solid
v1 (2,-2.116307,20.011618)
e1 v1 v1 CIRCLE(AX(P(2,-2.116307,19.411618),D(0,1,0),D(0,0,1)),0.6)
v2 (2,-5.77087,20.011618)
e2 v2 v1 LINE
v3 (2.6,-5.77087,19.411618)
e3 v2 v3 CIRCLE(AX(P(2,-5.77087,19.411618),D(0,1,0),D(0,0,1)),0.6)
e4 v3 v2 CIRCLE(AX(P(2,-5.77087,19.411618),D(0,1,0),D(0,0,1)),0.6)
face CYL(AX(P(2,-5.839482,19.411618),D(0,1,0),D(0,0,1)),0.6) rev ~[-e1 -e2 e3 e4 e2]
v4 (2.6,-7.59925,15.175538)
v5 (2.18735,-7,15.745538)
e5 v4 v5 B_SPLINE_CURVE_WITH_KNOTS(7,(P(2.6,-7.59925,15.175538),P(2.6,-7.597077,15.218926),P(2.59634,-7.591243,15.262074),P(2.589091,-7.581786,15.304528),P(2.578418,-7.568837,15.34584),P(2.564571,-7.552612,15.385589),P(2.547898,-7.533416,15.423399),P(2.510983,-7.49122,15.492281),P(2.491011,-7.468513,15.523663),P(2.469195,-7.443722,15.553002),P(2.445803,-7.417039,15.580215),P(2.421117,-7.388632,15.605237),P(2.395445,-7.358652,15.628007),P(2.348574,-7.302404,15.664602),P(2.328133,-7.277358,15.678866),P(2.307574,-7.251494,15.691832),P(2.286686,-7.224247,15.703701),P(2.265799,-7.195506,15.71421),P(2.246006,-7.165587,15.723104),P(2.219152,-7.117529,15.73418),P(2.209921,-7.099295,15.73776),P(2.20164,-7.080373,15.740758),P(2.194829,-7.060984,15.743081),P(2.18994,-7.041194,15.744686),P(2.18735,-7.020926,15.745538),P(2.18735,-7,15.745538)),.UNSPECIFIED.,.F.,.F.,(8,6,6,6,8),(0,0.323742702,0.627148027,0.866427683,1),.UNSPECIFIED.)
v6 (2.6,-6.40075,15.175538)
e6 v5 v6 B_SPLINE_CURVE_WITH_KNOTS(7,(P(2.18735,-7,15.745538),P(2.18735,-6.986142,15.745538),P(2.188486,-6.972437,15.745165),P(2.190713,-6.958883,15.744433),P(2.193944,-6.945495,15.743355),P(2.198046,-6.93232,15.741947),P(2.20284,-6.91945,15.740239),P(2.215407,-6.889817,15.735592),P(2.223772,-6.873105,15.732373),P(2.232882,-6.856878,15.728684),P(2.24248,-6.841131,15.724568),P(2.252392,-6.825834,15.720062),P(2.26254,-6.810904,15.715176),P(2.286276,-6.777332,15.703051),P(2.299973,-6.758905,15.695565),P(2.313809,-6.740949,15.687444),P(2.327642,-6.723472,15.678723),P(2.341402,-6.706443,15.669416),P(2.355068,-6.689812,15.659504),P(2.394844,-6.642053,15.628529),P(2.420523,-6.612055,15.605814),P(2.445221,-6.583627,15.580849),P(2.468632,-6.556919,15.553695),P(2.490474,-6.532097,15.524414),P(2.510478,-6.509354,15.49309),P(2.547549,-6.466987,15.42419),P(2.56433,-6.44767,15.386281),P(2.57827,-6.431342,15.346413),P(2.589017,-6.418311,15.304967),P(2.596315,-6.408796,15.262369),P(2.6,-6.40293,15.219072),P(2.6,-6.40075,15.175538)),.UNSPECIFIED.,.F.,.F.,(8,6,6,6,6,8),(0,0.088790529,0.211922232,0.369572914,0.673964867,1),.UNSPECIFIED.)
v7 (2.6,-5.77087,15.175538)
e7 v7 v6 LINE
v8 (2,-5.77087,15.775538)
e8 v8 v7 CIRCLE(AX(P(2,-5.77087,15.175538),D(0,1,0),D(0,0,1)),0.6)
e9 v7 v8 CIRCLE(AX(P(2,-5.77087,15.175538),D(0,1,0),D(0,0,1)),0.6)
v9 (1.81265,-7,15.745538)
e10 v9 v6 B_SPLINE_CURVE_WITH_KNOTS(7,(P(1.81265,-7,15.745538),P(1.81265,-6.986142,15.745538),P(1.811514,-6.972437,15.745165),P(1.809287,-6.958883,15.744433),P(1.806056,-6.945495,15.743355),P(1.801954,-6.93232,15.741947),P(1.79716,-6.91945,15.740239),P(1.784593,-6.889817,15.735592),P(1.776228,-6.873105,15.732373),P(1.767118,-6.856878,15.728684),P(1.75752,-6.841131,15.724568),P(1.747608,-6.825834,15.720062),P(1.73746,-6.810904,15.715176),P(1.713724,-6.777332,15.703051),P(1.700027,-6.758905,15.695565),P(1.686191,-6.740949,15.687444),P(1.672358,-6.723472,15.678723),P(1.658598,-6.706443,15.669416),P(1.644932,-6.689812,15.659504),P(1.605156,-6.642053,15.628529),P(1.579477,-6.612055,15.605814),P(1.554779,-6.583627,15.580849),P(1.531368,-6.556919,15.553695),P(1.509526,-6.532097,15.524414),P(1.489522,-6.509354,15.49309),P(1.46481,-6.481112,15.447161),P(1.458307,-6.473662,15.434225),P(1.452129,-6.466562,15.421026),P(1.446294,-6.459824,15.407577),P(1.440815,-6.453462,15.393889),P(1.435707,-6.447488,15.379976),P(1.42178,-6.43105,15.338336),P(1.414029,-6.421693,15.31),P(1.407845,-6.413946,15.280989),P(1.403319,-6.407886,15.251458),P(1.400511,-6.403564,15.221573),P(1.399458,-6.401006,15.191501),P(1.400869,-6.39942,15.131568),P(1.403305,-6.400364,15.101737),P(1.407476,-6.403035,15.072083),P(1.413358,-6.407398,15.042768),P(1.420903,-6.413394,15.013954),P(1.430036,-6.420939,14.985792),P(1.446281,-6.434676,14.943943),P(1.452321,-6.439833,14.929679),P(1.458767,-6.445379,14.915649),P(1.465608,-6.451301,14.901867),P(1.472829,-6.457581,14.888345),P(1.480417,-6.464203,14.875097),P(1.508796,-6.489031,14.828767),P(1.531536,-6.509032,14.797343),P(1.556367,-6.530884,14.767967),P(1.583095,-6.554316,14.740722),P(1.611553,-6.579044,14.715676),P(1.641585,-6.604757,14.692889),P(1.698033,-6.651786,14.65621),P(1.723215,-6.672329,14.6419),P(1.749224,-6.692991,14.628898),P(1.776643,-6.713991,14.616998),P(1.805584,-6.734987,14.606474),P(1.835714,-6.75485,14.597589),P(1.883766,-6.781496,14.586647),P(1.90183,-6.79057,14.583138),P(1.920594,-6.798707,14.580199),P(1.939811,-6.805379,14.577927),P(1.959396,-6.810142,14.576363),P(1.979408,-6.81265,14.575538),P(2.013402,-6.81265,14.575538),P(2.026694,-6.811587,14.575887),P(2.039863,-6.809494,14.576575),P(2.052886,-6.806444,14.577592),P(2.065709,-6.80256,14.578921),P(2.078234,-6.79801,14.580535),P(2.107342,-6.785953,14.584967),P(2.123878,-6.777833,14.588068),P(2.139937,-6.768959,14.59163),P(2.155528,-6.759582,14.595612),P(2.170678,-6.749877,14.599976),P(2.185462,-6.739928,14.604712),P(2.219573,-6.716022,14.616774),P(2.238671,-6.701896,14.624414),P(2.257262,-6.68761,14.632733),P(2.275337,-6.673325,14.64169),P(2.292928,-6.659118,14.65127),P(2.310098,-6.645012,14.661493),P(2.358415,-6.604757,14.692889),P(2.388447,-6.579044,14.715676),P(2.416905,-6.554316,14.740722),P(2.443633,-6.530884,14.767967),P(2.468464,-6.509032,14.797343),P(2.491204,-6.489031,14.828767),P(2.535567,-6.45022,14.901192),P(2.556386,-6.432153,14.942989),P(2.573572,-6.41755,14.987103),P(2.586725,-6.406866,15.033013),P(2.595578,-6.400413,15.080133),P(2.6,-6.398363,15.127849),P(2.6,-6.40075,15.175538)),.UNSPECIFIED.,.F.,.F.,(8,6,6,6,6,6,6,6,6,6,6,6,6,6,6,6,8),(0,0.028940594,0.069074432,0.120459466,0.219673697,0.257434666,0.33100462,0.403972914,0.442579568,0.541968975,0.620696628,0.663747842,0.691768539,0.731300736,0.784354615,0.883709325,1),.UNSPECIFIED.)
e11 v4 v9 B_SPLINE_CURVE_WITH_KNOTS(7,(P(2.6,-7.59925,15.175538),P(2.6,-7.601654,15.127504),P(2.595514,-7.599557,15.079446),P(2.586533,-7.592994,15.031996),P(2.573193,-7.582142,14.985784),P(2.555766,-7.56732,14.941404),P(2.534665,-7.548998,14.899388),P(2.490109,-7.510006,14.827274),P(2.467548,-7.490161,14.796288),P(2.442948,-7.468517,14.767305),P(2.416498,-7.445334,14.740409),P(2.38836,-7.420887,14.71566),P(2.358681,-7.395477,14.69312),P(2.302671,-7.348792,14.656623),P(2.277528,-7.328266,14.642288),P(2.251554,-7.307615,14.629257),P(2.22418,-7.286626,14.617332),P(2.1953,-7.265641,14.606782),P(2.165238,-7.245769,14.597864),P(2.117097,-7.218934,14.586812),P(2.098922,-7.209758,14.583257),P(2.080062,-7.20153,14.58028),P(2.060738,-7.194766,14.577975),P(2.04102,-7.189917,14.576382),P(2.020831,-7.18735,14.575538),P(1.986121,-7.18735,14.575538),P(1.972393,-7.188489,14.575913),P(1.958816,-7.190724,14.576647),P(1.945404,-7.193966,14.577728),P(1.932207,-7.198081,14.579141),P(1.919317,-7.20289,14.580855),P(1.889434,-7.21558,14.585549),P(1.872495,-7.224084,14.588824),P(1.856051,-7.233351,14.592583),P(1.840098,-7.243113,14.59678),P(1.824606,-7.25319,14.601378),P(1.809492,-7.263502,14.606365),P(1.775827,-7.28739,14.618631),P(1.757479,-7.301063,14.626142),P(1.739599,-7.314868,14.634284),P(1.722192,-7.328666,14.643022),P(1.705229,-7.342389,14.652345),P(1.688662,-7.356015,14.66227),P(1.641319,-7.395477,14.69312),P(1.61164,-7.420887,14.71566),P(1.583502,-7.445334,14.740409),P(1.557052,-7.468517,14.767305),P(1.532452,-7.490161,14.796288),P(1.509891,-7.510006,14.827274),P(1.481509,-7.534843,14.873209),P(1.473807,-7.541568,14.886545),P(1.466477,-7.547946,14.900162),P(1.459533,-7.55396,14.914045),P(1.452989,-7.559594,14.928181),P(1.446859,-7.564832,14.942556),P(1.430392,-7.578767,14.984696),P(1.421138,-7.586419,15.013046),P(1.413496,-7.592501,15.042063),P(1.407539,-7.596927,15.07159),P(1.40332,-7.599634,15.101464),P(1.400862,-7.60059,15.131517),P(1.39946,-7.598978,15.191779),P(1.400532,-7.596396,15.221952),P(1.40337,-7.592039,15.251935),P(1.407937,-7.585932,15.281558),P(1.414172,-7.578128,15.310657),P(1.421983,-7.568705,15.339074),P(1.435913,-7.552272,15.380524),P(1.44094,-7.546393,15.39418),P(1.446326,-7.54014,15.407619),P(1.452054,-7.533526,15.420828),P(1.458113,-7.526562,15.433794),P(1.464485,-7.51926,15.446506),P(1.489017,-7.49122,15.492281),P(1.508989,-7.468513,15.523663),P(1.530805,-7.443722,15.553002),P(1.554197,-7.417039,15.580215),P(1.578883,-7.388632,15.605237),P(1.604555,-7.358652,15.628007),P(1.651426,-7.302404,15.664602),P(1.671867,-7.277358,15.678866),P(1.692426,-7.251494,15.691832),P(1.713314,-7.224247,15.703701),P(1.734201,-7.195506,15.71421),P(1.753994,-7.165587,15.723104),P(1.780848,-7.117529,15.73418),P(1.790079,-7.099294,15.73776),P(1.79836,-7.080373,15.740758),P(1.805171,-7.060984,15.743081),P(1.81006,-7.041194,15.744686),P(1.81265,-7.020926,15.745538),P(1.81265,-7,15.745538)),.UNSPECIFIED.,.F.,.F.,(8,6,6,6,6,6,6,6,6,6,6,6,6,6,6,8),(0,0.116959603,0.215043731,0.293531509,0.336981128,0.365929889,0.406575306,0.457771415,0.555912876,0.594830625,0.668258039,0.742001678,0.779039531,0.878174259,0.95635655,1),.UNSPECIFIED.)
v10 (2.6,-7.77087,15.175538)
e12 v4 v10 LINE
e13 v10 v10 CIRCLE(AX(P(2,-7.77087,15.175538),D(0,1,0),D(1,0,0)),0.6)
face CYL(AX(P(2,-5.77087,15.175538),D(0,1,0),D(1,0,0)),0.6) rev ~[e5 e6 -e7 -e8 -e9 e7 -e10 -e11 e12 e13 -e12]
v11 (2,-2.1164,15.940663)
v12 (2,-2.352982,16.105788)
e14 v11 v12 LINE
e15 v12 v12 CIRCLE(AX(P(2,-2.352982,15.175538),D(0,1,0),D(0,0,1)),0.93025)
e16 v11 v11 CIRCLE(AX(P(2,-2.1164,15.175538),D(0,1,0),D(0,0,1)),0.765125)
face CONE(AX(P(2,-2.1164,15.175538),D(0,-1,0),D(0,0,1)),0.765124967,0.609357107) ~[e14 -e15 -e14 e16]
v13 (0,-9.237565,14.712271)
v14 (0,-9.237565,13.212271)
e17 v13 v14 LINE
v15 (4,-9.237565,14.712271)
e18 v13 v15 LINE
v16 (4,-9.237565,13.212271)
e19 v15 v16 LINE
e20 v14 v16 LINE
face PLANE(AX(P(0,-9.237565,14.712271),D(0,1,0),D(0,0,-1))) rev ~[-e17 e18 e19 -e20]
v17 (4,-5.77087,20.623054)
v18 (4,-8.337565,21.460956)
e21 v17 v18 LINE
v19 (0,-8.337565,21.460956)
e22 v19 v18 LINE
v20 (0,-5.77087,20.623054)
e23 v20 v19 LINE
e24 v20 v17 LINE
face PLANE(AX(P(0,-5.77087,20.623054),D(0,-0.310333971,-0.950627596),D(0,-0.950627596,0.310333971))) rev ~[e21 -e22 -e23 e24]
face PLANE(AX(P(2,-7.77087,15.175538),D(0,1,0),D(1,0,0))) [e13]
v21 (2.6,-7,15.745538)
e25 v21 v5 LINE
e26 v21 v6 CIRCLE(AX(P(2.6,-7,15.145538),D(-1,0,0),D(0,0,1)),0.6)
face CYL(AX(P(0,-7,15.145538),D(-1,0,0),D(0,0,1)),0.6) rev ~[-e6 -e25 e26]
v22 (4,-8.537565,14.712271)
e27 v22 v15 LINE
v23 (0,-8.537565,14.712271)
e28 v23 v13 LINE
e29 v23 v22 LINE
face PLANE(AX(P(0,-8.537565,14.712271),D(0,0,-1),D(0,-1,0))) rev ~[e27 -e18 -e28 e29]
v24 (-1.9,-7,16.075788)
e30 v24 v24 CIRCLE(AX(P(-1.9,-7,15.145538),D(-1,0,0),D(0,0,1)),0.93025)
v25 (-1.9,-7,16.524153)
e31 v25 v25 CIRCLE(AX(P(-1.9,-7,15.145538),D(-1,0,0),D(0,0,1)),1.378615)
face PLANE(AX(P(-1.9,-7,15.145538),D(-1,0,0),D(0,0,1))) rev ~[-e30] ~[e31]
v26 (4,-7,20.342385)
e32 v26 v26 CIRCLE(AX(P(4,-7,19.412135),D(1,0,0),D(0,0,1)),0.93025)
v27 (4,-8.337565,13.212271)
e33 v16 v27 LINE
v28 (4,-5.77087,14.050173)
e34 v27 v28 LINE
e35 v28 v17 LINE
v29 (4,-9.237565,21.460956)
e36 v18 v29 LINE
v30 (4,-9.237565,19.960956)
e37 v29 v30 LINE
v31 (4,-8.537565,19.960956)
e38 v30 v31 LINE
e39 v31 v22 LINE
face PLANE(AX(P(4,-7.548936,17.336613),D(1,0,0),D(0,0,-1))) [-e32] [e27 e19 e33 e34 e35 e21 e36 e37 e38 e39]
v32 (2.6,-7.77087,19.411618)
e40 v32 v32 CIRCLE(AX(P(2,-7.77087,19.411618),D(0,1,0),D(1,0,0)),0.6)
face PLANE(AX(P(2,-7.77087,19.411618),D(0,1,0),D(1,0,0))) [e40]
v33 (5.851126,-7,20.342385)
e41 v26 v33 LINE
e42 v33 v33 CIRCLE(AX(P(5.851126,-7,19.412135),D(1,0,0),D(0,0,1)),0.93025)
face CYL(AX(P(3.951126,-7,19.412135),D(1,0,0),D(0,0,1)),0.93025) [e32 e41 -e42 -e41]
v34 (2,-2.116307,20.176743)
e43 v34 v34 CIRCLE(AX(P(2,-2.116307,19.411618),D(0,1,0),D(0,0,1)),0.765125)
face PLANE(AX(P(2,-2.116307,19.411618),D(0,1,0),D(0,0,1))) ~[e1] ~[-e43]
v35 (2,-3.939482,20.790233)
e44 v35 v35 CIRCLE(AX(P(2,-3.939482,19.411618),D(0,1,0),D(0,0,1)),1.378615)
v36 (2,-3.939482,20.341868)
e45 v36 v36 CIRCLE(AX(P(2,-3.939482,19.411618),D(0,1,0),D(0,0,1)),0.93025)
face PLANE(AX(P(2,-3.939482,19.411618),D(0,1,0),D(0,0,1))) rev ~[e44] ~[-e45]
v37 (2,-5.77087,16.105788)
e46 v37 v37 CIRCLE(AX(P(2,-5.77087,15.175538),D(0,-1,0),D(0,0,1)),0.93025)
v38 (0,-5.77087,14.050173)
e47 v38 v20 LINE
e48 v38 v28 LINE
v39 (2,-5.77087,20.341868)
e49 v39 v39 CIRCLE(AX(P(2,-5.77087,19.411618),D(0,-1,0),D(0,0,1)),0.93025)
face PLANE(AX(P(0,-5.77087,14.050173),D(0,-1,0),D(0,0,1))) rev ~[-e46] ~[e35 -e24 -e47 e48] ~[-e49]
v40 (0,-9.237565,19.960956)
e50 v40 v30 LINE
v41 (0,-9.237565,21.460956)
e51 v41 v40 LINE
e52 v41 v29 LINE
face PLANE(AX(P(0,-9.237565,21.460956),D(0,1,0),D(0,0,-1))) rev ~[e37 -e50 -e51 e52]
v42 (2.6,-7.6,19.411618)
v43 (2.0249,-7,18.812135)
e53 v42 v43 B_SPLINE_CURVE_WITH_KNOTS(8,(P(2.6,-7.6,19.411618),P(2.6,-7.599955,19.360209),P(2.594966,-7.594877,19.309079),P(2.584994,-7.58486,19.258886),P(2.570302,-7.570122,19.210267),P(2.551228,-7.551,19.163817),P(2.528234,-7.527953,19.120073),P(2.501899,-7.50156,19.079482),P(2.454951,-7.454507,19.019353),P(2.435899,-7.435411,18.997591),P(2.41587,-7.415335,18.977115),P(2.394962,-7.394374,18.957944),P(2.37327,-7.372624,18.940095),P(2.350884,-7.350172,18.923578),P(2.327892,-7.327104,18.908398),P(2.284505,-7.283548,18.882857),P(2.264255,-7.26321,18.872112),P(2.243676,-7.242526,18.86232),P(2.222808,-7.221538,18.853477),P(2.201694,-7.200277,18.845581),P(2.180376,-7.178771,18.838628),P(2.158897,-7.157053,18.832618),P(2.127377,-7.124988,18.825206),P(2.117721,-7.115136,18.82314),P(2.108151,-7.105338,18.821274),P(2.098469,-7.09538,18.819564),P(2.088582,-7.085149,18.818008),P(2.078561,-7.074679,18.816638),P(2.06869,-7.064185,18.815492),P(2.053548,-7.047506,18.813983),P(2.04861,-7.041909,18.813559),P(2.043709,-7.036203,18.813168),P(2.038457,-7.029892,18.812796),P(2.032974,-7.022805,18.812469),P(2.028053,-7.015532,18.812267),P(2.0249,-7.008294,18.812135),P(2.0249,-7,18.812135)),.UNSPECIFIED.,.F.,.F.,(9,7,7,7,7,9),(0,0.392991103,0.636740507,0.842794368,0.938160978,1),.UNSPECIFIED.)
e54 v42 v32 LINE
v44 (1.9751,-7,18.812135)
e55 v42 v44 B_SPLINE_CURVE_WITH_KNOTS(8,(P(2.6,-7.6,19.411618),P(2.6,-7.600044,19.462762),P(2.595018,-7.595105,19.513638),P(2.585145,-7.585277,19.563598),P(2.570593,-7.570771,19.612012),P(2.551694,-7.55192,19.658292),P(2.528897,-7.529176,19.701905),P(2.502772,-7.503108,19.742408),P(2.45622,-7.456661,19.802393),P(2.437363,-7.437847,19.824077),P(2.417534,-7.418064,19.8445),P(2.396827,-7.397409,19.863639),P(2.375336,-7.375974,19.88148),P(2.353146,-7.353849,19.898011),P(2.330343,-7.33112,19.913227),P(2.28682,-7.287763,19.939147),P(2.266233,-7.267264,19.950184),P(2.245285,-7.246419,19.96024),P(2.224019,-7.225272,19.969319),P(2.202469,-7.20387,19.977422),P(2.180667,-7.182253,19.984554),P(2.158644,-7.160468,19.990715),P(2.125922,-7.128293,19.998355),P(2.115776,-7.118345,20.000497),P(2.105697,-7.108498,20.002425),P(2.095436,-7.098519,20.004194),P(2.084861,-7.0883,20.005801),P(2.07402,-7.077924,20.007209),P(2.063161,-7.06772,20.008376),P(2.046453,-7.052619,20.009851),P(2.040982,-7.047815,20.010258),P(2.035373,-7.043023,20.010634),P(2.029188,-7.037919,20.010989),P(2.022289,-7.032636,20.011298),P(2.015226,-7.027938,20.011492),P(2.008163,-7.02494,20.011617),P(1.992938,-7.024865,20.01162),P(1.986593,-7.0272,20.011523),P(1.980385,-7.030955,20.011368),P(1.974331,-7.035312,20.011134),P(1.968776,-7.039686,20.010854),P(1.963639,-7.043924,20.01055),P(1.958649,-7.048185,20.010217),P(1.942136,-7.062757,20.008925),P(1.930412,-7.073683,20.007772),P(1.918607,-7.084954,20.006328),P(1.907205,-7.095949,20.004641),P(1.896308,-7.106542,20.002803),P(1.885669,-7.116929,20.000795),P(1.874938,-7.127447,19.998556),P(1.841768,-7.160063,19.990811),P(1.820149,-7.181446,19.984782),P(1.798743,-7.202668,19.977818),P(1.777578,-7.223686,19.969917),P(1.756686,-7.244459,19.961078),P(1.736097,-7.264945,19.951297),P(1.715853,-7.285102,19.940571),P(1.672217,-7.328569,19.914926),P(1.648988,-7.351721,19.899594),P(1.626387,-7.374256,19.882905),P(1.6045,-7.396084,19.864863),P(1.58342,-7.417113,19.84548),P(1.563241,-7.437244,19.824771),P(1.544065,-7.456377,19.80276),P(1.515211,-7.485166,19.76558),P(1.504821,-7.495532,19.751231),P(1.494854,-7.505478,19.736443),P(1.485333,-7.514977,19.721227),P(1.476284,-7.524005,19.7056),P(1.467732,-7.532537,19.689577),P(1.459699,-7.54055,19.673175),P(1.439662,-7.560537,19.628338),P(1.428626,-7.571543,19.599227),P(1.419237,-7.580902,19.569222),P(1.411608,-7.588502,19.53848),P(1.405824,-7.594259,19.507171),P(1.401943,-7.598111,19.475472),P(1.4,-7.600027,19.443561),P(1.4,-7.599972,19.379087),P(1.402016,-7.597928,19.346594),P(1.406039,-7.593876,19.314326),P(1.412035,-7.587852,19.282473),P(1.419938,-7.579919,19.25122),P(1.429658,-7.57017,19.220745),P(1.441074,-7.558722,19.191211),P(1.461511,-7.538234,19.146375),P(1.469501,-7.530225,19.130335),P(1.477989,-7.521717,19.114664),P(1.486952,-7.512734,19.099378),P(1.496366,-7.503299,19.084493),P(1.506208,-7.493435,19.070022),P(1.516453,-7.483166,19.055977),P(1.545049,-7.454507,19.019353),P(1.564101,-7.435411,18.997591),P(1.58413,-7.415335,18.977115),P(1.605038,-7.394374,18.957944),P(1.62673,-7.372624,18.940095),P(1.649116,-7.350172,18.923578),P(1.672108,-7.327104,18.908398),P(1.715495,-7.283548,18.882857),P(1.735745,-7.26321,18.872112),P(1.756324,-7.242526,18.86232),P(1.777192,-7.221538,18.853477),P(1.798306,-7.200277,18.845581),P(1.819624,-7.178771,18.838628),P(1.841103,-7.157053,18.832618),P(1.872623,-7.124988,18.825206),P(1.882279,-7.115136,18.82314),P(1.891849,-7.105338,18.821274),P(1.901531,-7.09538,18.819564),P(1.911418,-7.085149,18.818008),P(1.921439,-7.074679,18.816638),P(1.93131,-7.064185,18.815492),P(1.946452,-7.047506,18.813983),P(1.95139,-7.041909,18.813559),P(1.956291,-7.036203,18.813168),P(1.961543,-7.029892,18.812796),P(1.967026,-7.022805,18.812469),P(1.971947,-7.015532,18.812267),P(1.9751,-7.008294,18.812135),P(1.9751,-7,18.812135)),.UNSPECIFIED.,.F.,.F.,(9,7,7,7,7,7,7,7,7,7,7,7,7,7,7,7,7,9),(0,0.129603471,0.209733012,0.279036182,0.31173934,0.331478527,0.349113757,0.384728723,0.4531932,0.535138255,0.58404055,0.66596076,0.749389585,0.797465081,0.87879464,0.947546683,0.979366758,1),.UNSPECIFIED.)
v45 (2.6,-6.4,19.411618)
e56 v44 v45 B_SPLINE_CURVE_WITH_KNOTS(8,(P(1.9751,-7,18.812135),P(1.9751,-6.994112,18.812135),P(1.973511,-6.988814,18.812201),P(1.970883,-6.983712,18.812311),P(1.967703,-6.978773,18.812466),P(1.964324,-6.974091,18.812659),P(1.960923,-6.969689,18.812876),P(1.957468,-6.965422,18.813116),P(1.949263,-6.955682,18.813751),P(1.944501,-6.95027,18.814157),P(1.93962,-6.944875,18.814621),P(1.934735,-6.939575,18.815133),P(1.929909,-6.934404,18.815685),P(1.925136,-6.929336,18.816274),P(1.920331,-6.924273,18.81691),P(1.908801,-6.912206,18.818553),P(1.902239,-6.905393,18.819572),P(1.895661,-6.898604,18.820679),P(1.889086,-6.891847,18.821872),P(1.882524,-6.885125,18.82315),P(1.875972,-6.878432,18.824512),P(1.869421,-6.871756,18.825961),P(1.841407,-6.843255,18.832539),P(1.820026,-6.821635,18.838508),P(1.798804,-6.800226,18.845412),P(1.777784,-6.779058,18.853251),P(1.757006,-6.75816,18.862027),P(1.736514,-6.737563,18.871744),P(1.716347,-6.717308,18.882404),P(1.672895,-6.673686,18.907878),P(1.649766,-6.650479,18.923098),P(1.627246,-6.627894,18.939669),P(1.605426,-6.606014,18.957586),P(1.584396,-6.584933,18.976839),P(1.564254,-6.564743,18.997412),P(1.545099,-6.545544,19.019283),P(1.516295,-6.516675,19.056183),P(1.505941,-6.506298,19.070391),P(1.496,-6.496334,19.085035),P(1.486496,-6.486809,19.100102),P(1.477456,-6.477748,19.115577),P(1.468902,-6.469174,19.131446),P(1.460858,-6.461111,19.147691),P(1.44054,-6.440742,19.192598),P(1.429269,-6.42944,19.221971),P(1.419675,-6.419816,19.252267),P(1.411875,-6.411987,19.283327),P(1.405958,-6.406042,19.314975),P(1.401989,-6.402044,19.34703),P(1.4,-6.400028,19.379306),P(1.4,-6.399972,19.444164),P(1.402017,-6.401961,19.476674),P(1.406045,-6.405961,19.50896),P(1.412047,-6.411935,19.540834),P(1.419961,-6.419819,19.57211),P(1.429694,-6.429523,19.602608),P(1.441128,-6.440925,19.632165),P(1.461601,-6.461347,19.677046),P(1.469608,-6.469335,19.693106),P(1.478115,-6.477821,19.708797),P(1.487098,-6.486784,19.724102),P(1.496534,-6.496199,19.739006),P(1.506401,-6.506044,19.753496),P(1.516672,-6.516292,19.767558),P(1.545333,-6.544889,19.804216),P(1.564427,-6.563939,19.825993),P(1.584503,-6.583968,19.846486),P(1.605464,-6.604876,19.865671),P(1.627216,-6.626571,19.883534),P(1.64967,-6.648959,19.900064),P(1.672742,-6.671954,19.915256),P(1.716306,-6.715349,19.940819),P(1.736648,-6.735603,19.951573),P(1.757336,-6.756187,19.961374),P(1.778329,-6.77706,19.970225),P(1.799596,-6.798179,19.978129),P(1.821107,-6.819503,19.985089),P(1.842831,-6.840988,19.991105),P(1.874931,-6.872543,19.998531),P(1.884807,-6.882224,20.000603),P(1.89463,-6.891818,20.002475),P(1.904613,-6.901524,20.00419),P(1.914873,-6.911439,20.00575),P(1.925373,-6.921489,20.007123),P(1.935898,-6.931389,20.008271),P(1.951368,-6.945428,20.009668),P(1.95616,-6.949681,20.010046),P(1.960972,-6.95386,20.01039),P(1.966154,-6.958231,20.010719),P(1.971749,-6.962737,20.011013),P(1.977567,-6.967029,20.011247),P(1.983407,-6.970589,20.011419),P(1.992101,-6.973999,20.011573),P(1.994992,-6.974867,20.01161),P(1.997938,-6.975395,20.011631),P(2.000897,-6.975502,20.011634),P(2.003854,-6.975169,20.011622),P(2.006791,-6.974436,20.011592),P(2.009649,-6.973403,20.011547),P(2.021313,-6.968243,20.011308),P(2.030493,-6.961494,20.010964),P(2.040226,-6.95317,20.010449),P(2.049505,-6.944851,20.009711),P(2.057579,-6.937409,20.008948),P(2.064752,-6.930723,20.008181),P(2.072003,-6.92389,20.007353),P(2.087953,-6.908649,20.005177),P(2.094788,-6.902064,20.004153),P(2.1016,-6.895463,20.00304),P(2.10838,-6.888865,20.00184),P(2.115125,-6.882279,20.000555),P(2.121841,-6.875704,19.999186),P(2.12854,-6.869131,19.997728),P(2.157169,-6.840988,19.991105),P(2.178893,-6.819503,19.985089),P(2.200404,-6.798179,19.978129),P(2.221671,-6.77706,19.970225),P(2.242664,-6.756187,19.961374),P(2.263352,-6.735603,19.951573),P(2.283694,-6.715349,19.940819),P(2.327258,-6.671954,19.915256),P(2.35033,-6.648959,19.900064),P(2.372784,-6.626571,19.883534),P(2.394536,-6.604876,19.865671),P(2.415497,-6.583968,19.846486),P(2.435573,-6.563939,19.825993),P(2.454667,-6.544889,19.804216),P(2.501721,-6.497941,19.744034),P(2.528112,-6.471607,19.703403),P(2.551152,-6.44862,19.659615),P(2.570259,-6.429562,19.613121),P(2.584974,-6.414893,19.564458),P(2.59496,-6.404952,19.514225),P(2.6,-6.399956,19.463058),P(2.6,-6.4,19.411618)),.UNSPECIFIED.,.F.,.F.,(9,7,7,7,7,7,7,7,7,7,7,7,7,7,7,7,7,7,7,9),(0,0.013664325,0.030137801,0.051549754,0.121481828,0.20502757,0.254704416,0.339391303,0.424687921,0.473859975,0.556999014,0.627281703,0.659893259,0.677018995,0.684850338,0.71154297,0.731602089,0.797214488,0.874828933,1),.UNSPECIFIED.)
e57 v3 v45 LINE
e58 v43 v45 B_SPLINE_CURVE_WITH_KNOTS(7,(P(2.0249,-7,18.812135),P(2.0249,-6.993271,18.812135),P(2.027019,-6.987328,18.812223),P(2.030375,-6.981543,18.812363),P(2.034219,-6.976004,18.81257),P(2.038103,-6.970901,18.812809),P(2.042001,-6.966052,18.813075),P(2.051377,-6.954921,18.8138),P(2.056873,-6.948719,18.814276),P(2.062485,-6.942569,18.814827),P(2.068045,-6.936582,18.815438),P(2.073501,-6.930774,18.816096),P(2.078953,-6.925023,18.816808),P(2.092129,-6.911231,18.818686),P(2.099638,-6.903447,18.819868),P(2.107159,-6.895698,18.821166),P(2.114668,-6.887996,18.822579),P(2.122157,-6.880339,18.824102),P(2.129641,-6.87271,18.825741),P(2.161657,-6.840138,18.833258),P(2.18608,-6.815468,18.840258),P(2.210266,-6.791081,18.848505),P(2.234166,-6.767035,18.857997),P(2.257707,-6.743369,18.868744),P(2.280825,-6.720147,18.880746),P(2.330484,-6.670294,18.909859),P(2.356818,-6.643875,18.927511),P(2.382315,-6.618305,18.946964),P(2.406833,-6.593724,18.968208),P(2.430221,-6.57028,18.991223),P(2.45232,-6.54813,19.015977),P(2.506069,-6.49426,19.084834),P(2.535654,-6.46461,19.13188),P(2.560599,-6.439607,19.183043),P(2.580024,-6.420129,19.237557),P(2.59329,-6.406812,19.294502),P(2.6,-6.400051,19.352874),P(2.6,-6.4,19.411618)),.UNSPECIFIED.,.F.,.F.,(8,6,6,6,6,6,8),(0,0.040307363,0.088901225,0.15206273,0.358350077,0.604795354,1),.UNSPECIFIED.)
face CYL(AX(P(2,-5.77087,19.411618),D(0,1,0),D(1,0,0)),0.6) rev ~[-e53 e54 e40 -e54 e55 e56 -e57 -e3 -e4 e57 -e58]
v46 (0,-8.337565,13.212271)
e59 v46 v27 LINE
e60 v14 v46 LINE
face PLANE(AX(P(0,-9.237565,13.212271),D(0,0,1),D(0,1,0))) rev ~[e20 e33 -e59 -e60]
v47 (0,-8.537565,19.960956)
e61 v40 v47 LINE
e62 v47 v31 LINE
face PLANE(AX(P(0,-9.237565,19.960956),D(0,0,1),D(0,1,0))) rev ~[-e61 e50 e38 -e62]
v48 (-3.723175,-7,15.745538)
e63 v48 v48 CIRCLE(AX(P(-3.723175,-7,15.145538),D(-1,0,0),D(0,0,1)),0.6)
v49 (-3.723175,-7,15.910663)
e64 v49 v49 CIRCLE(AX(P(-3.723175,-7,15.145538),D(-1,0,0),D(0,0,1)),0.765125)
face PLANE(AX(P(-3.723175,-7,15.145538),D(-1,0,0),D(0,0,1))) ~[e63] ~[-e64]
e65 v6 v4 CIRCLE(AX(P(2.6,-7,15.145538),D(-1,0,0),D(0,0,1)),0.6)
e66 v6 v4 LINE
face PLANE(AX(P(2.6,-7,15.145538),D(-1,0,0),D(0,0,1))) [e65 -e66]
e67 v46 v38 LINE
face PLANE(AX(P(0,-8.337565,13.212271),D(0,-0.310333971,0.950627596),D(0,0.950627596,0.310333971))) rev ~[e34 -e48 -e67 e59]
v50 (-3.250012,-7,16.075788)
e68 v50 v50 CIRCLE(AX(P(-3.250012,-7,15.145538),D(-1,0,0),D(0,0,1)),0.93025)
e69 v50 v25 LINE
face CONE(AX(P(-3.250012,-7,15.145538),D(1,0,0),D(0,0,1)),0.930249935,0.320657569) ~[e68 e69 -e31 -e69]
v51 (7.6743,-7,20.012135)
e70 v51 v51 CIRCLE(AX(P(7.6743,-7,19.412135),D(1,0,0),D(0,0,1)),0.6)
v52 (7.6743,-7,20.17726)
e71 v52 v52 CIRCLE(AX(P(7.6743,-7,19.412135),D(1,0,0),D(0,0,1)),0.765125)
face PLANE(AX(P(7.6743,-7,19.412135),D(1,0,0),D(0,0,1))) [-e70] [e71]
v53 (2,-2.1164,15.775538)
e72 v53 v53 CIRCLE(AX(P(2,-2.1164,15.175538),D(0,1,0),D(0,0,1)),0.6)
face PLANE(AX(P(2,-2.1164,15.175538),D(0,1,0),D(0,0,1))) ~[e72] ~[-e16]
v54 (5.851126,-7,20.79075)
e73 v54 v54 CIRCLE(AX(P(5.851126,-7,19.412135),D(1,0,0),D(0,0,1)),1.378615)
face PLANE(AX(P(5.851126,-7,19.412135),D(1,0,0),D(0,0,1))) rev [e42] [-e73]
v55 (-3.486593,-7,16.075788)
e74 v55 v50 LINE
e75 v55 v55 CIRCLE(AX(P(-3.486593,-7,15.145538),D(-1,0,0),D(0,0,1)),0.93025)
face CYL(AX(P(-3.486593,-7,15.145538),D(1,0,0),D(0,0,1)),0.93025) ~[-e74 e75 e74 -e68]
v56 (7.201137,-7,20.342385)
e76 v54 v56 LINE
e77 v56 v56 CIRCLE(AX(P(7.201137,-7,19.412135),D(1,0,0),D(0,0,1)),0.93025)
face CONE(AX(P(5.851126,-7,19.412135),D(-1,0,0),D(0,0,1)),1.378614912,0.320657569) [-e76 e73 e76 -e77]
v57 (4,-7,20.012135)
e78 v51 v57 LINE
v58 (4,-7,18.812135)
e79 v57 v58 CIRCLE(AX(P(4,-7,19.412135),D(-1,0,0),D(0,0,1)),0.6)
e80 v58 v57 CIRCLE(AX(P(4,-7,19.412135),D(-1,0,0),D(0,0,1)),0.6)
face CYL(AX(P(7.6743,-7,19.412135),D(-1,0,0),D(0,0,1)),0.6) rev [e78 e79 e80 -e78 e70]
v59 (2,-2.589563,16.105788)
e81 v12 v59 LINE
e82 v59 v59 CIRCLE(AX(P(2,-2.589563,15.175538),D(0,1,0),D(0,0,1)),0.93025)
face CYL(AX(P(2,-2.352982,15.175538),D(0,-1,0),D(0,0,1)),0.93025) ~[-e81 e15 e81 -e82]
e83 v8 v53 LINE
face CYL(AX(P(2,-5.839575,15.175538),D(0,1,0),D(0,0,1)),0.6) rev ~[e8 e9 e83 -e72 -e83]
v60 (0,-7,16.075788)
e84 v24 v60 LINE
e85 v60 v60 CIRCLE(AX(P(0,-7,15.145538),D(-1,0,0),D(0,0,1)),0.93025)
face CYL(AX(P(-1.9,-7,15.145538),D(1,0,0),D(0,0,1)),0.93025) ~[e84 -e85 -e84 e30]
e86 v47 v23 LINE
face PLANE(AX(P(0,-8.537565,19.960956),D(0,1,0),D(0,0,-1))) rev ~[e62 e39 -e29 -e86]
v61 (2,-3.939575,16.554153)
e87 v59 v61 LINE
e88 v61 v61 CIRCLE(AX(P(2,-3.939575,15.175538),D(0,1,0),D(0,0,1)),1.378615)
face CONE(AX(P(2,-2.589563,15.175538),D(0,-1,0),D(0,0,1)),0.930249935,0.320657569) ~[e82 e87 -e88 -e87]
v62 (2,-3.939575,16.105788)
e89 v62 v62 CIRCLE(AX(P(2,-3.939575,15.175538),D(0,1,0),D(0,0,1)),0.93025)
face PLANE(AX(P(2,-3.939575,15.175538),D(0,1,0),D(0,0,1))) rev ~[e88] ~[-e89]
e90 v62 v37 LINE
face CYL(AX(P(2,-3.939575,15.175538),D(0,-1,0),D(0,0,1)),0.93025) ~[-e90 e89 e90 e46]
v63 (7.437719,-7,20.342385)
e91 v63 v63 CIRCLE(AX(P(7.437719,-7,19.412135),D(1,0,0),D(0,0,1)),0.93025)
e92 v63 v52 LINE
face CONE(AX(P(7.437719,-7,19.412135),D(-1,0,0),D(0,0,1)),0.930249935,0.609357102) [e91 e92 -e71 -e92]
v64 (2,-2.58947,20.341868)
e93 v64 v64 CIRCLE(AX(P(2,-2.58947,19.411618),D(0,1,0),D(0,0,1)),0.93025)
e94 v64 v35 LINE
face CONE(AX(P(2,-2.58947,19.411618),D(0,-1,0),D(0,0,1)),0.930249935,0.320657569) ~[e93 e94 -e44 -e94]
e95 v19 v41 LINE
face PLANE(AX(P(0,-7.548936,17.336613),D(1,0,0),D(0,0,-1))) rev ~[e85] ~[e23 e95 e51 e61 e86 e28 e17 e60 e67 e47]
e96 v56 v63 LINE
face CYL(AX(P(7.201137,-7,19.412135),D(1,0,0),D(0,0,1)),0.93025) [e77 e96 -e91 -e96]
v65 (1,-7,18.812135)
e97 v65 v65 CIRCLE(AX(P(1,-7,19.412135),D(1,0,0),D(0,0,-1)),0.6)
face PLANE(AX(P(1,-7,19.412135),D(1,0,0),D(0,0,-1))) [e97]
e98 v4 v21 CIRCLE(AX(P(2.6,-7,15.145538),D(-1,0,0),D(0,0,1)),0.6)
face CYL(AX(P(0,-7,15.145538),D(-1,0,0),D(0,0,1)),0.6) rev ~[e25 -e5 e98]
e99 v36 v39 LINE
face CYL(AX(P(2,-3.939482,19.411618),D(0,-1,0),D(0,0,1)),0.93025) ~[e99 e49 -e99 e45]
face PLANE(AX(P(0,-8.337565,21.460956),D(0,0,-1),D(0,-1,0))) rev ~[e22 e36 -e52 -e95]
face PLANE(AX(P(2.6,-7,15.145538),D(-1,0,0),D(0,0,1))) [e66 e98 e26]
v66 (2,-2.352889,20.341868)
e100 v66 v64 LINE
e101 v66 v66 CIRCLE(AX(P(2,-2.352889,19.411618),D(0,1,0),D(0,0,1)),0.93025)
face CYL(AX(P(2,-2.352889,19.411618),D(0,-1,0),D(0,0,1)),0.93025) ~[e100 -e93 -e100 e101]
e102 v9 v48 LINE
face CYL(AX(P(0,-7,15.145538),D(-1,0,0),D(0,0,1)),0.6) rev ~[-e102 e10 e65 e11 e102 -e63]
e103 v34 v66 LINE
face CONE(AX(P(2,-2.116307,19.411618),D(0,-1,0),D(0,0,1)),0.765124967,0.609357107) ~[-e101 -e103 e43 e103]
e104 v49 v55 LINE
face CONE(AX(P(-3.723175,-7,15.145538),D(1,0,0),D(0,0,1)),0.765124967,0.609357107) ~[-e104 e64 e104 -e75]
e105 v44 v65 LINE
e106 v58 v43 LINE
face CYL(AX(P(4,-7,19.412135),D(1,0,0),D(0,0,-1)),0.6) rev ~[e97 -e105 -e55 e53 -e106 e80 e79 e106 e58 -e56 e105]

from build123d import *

# Parameters (mm, degrees)
BOSS_EXTRUDE2_DEPTH = 4
SKETCH14_R          = 0.6
CUT_EXTRUDE5_DEPTH  = 2.6
SKETCH15_R          = 0.6
CUT_EXTRUDE6_DEPTH  = 3
SKETCH16_R          = 0.6
CUT_EXTRUDE7_DEPTH  = 2


with BuildPart() as part:
    # Sketch3 → Boss-Extrude2 (new body)
    with BuildSketch(Plane(origin=(0, 0, 0), x_dir=(0, 0, -1), z_dir=(1, 0, 0))):
        Polygon((-19.96095556, -8.537564915), (-14.712271186, -8.537564915), (-14.712271186, -9.237564915), (-13.212271186, -9.237564915), (-13.212271186, -8.337564915), (-14.050172907, -5.770870406), (-20.623053839, -5.770870406), (-21.46095556, -8.337564915), (-21.46095556, -9.237564915), (-19.96095556, -9.237564915), align=None)
    extrude(amount=BOSS_EXTRUDE2_DEPTH)

    # Sketch5 → Revolve2 (revolve)
    with BuildSketch(Plane(origin=(2, 0, 0), x_dir=(0, 0, -1), z_dir=(1, 0, 0))):
        Polygon((-20.341868378, -5.839481614), (-20.011618443, -5.839481614), (-20.011618443, -2.11630703), (-20.17674341, -2.11630703), (-20.341868378, -2.352888512), (-20.341868378, -2.589469995), (-20.790233355, -3.939481614), (-20.341868378, -3.939481614), align=None)
    revolve(axis=Axis((2, -5.639481613, 19.411618443), (0, 1, 0)))

    # Sketch6 → Revolve3 (revolve)
    with BuildSketch(Plane(origin=(2, 0, 0), x_dir=(0, 0, -1), z_dir=(1, 0, 0))):
        Polygon((-16.105788013, -5.839574788), (-15.775538078, -5.839574788), (-15.775538078, -2.116400204), (-15.940663045, -2.116400204), (-16.105788013, -2.352981686), (-16.105788013, -2.589563168), (-16.55415299, -3.939574788), (-16.105788013, -3.939574788), align=None)
    revolve(axis=Axis((2, -6.067987194, 15.175538078), (0, 1, 0)))

    # Sketch12 → Revolve5 (revolve)
    with BuildSketch(Plane(origin=(0, -7, 0), x_dir=(1, 0, 0), z_dir=(0, 1, 0))):
        Polygon((0, -16.075788013), (0, -15.745538078), (-3.723174584, -15.745538078), (-3.723174584, -15.910663045), (-3.486593102, -16.075788013), (-3.250011619, -16.075788013), (-1.9, -16.52415299), (-1.9, -16.075788013), align=None)
    revolve(axis=Axis((0, -7, 15.145538078), (-1, 0, 0)))

    # Sketch13 → Revolve6 (revolve)
    with BuildSketch(Plane(origin=(0, -7, 0), x_dir=(1, 0, 0), z_dir=(0, 1, 0))):
        Polygon((5.851125834, -20.790750246), (7.201137454, -20.342385269), (7.437718936, -20.342385269), (7.674300419, -20.177260302), (7.674300419, -20.012135334), (3.951125834, -20.012135334), (3.951125834, -20.342385269), (5.851125834, -20.342385269), align=None)
    revolve(axis=Axis((3.951125834, -7, 19.412135334), (1, 0, 0)))

    # Sketch14 → Cut-Extrude5 (cut)
    with BuildSketch(Plane.ZY):
        with Locations((15.145538078, -7)):
            Circle(SKETCH14_R)
    extrude(amount=-CUT_EXTRUDE5_DEPTH, mode=Mode.SUBTRACT)

    # Sketch15 → Cut-Extrude6 (cut)
    with BuildSketch(Plane(origin=(4, 0, 0), x_dir=(0, 0, -1), z_dir=(1, 0, 0))):
        with Locations((-19.412135334, -7)):
            Circle(SKETCH15_R)
    extrude(amount=-CUT_EXTRUDE6_DEPTH, mode=Mode.SUBTRACT)

    # Sketch16 → Cut-Extrude7 (cut)
    with BuildSketch(Plane(origin=(0, -5.770870406, 0), x_dir=(1, 0, 0), z_dir=(0, 1, 0))):
        with Locations((2, -15.175538078)):
            Circle(SKETCH16_R)
        with Locations((2, -19.411618443)):
            Circle(SKETCH16_R)
    extrude(amount=-CUT_EXTRUDE7_DEPTH, mode=Mode.SUBTRACT)


solid = part.part
